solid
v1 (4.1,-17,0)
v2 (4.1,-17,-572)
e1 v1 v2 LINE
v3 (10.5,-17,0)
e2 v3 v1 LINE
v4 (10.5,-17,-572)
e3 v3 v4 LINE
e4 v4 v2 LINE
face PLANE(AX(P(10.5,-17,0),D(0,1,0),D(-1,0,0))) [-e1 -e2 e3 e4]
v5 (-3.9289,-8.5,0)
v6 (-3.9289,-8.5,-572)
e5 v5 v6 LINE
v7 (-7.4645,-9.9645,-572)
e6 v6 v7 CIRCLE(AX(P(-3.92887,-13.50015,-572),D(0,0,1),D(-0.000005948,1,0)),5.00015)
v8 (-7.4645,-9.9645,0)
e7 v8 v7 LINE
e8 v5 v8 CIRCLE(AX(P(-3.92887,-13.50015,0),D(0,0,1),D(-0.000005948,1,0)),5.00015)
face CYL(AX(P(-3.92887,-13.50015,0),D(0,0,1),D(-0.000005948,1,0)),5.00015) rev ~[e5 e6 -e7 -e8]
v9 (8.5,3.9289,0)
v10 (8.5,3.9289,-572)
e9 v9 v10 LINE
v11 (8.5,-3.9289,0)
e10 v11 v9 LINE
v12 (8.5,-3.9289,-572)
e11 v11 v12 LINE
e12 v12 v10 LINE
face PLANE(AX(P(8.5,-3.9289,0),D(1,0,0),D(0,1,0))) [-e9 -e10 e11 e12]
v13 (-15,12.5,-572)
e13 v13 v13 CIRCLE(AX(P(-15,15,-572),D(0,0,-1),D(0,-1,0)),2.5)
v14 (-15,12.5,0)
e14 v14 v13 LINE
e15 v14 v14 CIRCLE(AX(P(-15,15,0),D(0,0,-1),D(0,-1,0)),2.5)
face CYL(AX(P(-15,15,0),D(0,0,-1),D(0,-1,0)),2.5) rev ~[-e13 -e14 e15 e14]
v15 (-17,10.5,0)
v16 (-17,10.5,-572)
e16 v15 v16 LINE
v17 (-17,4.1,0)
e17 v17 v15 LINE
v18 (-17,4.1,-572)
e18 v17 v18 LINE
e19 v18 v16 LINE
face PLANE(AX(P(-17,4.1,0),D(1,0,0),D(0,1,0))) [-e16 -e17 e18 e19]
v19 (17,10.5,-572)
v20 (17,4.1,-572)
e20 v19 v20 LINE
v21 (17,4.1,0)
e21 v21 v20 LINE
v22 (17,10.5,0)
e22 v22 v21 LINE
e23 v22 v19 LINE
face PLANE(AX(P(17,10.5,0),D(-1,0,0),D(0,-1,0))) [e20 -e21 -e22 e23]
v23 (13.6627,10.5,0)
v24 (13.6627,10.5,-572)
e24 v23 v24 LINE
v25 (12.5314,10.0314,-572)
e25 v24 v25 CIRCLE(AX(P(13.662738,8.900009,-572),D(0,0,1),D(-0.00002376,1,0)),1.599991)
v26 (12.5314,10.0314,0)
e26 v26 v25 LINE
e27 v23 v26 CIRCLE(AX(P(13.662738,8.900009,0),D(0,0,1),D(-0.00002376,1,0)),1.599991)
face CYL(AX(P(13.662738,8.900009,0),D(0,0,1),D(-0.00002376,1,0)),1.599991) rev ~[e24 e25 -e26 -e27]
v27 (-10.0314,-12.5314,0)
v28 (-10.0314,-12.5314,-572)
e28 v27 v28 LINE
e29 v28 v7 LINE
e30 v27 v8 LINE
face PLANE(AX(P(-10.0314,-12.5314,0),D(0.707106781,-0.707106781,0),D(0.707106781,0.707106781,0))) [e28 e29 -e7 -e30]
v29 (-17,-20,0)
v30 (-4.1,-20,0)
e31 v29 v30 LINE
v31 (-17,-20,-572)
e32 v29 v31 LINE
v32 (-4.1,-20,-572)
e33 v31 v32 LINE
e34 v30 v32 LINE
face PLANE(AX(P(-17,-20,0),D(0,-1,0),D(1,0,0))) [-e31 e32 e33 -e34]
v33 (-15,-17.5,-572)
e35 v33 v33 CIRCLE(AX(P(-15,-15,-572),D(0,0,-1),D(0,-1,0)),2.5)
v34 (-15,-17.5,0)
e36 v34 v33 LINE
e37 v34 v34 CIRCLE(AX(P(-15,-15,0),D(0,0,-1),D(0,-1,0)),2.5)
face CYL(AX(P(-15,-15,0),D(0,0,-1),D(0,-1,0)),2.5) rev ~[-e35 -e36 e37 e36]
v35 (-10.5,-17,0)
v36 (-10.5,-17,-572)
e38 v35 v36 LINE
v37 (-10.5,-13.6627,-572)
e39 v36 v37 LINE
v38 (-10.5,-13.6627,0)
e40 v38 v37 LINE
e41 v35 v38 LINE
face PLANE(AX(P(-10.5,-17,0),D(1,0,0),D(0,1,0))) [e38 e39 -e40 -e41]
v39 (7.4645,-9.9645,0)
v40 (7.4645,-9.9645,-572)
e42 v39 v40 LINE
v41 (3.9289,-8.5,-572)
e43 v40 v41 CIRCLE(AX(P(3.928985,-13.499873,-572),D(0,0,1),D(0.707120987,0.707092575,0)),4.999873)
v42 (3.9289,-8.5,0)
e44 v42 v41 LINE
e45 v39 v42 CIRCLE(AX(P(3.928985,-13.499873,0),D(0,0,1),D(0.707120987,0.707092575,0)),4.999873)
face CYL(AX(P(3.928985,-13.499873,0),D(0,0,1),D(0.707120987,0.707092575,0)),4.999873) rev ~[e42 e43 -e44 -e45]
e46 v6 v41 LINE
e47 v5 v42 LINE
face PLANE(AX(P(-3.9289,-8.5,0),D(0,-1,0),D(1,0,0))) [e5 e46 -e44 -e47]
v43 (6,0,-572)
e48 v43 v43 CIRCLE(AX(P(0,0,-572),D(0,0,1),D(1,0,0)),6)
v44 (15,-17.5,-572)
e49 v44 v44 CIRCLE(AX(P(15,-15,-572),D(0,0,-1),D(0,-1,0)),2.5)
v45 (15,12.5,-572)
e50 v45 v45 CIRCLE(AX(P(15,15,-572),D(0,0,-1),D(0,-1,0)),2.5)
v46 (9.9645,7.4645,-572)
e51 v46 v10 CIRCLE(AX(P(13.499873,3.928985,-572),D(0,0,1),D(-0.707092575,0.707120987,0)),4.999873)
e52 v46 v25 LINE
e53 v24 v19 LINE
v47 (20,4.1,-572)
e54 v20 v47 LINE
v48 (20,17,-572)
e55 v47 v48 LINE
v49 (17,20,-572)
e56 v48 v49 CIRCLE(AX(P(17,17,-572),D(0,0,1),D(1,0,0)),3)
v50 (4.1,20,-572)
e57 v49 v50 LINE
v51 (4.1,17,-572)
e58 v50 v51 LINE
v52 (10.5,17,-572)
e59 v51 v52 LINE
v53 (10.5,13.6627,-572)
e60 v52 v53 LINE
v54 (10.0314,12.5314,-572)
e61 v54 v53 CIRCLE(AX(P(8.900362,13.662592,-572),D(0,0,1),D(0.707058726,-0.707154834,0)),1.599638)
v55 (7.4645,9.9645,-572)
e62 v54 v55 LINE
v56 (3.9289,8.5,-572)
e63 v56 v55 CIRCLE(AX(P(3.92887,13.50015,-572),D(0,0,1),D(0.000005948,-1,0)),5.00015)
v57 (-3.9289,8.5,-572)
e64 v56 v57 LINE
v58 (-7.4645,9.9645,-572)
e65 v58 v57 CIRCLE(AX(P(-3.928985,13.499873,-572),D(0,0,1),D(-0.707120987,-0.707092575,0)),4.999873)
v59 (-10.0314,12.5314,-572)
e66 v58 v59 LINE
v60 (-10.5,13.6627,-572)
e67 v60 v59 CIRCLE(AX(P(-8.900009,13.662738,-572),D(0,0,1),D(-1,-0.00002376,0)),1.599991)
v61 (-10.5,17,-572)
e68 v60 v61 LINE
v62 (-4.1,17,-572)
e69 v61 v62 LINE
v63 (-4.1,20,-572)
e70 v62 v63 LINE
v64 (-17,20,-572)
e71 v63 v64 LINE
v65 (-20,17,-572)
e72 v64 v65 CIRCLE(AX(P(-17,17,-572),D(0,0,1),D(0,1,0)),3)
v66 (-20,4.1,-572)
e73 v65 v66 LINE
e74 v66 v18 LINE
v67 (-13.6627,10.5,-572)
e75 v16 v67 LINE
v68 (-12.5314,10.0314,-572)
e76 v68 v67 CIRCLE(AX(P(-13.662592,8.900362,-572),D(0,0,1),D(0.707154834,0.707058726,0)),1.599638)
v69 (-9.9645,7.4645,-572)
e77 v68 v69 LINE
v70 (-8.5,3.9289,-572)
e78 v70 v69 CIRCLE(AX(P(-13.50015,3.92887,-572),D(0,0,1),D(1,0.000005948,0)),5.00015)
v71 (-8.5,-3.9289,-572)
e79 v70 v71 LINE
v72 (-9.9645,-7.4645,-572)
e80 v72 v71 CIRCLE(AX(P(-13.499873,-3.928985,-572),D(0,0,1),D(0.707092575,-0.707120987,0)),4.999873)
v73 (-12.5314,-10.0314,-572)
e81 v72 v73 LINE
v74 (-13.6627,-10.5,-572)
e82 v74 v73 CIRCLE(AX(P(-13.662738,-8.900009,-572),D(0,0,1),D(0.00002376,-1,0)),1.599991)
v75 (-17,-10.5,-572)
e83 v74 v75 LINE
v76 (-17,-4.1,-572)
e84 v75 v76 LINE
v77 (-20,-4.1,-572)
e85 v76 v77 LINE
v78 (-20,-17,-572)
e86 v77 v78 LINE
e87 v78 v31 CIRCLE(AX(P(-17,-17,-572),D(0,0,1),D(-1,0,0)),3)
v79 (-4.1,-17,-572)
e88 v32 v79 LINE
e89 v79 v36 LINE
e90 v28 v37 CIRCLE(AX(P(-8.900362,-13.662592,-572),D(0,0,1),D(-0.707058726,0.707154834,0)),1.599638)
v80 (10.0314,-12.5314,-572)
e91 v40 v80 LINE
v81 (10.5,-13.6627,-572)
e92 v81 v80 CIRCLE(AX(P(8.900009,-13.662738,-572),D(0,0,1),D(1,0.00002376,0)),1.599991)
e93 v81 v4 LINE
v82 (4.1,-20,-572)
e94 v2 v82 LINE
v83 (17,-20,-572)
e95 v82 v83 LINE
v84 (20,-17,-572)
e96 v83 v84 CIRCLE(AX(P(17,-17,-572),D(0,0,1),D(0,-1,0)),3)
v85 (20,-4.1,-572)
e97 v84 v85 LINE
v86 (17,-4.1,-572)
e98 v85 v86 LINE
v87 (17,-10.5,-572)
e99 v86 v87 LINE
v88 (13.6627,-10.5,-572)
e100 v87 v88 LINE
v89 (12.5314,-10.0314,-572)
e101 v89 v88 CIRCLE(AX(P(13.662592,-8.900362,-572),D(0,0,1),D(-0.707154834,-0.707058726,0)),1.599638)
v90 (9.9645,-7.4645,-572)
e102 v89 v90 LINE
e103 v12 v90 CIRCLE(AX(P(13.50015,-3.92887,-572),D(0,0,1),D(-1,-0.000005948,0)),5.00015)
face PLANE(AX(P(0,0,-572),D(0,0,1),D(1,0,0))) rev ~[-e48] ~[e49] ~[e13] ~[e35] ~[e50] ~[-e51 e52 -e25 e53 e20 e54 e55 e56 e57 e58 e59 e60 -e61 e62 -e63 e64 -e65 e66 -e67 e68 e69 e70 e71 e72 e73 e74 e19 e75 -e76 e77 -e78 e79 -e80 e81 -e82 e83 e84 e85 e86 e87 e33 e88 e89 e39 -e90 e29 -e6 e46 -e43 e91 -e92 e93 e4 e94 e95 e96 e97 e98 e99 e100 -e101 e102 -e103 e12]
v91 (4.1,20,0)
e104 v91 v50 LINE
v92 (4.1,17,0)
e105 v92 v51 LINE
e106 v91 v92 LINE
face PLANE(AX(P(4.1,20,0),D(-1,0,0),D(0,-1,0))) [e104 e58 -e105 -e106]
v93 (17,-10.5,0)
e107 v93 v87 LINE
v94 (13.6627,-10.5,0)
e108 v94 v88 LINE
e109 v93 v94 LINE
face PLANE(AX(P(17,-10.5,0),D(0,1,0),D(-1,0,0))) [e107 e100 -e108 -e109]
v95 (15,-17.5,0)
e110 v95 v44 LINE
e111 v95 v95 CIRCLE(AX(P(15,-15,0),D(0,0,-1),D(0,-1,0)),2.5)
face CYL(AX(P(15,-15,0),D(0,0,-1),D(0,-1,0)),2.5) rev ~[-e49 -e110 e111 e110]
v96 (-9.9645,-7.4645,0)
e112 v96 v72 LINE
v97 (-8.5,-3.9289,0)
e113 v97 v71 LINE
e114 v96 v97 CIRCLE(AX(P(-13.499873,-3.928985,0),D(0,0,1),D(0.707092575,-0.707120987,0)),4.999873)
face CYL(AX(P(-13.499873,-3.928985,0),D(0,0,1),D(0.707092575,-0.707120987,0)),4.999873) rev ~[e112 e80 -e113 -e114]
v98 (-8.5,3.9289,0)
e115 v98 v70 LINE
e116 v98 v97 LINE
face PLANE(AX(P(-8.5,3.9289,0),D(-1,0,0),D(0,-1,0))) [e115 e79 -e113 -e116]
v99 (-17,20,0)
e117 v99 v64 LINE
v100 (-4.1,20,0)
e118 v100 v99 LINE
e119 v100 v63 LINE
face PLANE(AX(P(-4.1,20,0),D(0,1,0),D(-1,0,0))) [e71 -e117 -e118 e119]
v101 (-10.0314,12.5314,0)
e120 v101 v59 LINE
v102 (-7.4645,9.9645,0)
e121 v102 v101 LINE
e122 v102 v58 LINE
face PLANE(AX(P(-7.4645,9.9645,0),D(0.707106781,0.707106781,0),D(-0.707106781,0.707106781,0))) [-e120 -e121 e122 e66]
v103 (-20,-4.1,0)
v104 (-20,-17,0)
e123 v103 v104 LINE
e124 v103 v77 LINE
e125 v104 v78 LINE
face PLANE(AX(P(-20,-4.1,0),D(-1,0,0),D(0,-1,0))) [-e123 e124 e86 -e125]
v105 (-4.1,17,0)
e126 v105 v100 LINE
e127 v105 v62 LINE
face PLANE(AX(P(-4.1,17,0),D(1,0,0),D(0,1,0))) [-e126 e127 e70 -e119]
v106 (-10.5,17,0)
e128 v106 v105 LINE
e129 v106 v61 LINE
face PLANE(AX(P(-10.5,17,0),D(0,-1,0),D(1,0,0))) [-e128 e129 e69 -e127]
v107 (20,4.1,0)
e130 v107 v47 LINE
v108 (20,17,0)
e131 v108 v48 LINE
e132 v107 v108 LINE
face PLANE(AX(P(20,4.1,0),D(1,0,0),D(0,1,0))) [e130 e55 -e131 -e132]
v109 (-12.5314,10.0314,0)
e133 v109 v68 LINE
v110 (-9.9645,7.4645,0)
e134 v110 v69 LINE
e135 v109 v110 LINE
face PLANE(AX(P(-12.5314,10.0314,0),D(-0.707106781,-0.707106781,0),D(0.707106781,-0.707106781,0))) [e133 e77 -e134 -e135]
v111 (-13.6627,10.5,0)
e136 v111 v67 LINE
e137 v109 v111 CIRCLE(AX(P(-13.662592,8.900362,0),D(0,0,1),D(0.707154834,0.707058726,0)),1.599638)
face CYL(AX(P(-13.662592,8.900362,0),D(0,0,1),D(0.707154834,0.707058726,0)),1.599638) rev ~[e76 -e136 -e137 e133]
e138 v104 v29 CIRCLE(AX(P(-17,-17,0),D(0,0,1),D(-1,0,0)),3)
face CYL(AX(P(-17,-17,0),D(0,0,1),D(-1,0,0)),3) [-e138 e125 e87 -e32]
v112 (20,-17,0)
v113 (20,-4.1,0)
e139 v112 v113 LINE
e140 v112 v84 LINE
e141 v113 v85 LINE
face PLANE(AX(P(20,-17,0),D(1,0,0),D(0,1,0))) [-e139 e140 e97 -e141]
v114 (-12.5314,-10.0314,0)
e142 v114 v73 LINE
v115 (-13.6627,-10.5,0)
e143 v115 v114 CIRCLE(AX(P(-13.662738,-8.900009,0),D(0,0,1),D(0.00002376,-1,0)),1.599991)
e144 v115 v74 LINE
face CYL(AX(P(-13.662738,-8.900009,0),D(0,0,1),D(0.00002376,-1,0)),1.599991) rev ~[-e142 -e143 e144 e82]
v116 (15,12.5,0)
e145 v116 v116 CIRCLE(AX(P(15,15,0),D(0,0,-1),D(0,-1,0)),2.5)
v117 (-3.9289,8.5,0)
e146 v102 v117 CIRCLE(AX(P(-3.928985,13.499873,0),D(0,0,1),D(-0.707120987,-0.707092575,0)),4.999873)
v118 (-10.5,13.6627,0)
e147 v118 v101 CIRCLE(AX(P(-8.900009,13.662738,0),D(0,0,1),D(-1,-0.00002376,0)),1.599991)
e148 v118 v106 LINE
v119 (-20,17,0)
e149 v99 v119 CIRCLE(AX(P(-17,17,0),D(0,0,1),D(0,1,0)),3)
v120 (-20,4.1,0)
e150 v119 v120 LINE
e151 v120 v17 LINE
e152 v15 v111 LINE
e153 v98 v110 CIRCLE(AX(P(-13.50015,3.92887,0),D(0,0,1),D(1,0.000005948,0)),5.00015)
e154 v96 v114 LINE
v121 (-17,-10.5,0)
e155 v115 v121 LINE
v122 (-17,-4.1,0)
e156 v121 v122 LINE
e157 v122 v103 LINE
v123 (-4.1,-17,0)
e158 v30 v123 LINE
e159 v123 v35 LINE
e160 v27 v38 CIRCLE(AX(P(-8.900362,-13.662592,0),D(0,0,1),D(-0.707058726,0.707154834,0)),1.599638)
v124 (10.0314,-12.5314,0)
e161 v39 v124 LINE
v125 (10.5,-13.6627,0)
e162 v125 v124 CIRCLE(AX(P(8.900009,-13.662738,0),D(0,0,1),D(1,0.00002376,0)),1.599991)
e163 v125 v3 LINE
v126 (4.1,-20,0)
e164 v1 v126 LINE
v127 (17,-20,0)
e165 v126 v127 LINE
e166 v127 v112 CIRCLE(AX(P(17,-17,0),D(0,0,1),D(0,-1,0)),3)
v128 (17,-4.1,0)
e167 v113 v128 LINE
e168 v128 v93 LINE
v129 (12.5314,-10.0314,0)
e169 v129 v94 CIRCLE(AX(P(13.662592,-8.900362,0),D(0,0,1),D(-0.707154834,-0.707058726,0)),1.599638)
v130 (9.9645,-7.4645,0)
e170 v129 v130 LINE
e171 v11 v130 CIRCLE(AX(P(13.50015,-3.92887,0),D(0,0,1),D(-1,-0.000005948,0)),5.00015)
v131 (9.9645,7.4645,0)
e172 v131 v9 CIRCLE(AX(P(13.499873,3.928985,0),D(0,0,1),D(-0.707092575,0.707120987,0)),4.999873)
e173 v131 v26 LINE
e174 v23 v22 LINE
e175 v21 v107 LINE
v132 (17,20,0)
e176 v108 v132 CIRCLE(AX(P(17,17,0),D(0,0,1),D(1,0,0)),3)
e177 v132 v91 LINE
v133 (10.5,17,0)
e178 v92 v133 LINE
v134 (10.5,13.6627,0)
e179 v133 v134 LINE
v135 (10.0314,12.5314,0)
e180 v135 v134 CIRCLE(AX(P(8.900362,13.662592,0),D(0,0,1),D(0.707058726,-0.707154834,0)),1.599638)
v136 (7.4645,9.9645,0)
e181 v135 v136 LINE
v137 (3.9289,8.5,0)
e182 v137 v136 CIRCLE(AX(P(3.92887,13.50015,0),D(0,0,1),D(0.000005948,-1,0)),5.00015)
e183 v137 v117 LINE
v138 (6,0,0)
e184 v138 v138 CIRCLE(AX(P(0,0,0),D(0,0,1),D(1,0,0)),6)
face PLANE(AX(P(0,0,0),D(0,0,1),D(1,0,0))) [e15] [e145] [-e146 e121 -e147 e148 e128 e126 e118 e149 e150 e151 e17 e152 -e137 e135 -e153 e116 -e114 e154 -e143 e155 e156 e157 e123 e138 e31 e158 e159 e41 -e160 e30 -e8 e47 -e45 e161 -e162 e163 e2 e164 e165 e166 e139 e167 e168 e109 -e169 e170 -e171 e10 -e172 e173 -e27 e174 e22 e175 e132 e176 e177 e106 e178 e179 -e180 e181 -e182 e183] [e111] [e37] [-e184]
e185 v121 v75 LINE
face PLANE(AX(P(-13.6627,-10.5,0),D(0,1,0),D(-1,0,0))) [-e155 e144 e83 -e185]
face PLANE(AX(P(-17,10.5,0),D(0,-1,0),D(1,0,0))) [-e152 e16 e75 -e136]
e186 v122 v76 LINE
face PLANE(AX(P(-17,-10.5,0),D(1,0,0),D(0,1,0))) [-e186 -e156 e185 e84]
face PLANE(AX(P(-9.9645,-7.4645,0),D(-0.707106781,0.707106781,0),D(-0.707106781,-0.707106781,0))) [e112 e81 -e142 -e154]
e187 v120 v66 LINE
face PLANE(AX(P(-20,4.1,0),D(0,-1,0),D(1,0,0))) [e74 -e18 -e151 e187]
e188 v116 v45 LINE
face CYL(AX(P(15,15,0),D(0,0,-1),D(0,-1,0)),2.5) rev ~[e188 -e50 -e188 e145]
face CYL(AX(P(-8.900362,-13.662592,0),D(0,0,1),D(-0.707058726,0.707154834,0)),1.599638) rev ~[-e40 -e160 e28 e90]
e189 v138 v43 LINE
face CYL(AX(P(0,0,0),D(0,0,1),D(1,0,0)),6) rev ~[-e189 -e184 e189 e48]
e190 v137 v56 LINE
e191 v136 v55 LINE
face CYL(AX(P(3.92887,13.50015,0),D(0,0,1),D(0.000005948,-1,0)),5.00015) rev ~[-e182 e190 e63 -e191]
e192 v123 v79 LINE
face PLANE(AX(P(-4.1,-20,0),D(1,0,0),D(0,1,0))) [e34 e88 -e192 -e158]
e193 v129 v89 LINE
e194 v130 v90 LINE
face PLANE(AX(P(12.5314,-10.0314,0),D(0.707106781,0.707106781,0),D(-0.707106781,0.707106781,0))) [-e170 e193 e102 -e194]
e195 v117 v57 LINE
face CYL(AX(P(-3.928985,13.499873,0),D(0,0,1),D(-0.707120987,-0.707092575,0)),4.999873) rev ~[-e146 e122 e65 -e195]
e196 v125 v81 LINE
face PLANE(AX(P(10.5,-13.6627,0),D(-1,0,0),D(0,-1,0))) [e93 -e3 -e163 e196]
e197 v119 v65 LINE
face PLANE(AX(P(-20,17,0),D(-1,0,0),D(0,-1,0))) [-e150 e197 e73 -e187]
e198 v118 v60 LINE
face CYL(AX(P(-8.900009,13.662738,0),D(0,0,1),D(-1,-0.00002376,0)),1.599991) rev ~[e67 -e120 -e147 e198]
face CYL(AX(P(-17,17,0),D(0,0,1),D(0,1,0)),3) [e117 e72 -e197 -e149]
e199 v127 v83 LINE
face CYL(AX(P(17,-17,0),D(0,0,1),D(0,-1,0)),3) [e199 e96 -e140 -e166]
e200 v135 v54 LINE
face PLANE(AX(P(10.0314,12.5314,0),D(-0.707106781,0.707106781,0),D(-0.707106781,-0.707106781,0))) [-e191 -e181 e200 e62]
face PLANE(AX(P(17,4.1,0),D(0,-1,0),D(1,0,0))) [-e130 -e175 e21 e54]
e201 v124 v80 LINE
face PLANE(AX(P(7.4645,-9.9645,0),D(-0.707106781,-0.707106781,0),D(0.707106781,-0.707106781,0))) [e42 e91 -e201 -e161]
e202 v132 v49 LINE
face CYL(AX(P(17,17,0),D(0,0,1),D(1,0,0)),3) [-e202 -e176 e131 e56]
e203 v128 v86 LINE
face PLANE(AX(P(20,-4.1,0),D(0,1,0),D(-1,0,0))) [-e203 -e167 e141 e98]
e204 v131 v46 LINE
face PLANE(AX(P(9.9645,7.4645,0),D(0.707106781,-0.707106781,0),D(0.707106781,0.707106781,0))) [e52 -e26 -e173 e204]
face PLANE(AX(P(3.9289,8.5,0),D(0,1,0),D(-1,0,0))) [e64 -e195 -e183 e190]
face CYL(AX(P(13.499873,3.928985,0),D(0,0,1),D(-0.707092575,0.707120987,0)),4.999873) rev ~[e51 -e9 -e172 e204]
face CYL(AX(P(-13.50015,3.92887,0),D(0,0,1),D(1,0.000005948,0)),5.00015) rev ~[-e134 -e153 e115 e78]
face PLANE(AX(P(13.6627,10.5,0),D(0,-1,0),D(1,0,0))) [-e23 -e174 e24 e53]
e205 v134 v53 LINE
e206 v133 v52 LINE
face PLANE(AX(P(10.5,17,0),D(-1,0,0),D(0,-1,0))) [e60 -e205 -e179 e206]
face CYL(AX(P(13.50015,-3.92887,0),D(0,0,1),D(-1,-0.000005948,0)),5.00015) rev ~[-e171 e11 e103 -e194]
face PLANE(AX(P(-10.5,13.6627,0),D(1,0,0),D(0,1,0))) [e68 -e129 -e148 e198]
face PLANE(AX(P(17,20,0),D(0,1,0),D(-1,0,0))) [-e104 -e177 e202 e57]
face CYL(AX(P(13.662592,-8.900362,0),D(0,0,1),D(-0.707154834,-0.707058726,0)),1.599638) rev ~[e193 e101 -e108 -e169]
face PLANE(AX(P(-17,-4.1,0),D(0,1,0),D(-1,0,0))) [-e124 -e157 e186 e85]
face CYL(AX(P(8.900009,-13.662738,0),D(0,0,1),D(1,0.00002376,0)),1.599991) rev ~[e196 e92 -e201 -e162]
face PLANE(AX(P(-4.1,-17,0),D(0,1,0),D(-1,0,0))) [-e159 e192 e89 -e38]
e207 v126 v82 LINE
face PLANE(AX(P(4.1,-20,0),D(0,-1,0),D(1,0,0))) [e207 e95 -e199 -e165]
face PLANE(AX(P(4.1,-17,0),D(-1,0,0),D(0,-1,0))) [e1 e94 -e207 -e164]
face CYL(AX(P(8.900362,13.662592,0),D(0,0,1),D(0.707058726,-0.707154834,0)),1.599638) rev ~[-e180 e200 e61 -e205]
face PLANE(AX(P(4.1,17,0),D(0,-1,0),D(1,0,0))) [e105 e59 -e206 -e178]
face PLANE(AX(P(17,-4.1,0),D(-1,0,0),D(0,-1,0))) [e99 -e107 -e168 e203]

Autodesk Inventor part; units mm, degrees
sketch "Skizze_1" plane through (0, 0, 0) normal (0, 0, 1) x (1, 0, 0)
  arc A0 (-20, -17) -> (-17, -20) centre (-17, -17) ccw
  line L0 (-17, -20) -> (-4.1, -20)
  line L1 (-4.1, -20) -> (-4.1, -17)
  line L2 (-4.1, -17) -> (-10.5, -17)
  line L3 (-10.5, -17) -> (-10.5, -13.6627)
  arc A1 (-10.0314, -12.5314) -> (-10.5, -13.6627) centre (-8.9002, -13.6627) ccw
  line L4 (-10.0314, -12.5314) -> (-7.4645, -9.9645)
  arc A2 (-3.9289, -8.5) -> (-7.4645, -9.9645) centre (-3.9289, -13.5) ccw
  line L5 (-3.9289, -8.5) -> (3.9289, -8.5)
  arc A3 (7.4645, -9.9645) -> (3.9289, -8.5) centre (3.9289, -13.5) ccw
  line L6 (7.4645, -9.9645) -> (10.0314, -12.5314)
  arc A4 (10.5, -13.6627) -> (10.0314, -12.5314) centre (8.9002, -13.6627) ccw
  line L7 (10.5, -13.6627) -> (10.5, -17)
  line L8 (10.5, -17) -> (4.1, -17)
  line L9 (4.1, -17) -> (4.1, -20)
  line L10 (4.1, -20) -> (17, -20)
  arc A5 (17, -20) -> (20, -17) centre (17, -17) ccw
  line L11 (20, -17) -> (20, -4.1)
  line L12 (20, -4.1) -> (17, -4.1)
  line L13 (17, -4.1) -> (17, -10.5)
  line L14 (17, -10.5) -> (13.6627, -10.5)
  arc A6 (12.5314, -10.0314) -> (13.6627, -10.5) centre (13.6627, -8.9002) ccw
  line L15 (12.5314, -10.0314) -> (9.9645, -7.4645)
  arc A7 (8.5, -3.9289) -> (9.9645, -7.4645) centre (13.5, -3.9289) ccw
  line L16 (8.5, -3.9289) -> (8.5, 3.9289)
  arc A8 (9.9645, 7.4645) -> (8.5, 3.9289) centre (13.5, 3.9289) ccw
  line L17 (9.9645, 7.4645) -> (12.5314, 10.0314)
  arc A9 (13.6627, 10.5) -> (12.5314, 10.0314) centre (13.6627, 8.9002) ccw
  line L18 (13.6627, 10.5) -> (17, 10.5)
  line L19 (17, 10.5) -> (17, 4.1)
  line L20 (17, 4.1) -> (20, 4.1)
  line L21 (20, 4.1) -> (20, 17)
  arc A10 (20, 17) -> (17, 20) centre (17, 17) ccw
  line L22 (17, 20) -> (4.1, 20)
  line L23 (4.1, 20) -> (4.1, 17)
  line L24 (4.1, 17) -> (10.5, 17)
  line L25 (10.5, 17) -> (10.5, 13.6627)
  arc A11 (10.0314, 12.5314) -> (10.5, 13.6627) centre (8.9002, 13.6627) ccw
  line L26 (10.0314, 12.5314) -> (7.4645, 9.9645)
  arc A12 (3.9289, 8.5) -> (7.4645, 9.9645) centre (3.9289, 13.5) ccw
  line L27 (3.9289, 8.5) -> (-3.9289, 8.5)
  arc A13 (-7.4645, 9.9645) -> (-3.9289, 8.5) centre (-3.9289, 13.5) ccw
  line L28 (-7.4645, 9.9645) -> (-10.0314, 12.5314)
  arc A14 (-10.5, 13.6627) -> (-10.0314, 12.5314) centre (-8.9002, 13.6627) ccw
  line L29 (-10.5, 13.6627) -> (-10.5, 17)
  line L30 (-10.5, 17) -> (-4.1, 17)
  line L31 (-4.1, 17) -> (-4.1, 20)
  line L32 (-4.1, 20) -> (-17, 20)
  arc A15 (-17, 20) -> (-20, 17) centre (-17, 17) ccw
  line L33 (-20, 17) -> (-20, 4.1)
  line L34 (-20, 4.1) -> (-17, 4.1)
  line L35 (-17, 4.1) -> (-17, 10.5)
  line L36 (-17, 10.5) -> (-13.6627, 10.5)
  arc A16 (-12.5314, 10.0314) -> (-13.6627, 10.5) centre (-13.6627, 8.9002) ccw
  line L37 (-12.5314, 10.0314) -> (-9.9645, 7.4645)
  arc A17 (-8.5, 3.9289) -> (-9.9645, 7.4645) centre (-13.5, 3.9289) ccw
  line L38 (-8.5, 3.9289) -> (-8.5, -3.9289)
  arc A18 (-9.9645, -7.4645) -> (-8.5, -3.9289) centre (-13.5, -3.9289) ccw
  line L39 (-9.9645, -7.4645) -> (-12.5314, -10.0314)
  arc A19 (-13.6627, -10.5) -> (-12.5314, -10.0314) centre (-13.6627, -8.9002) ccw
  line L40 (-13.6627, -10.5) -> (-17, -10.5)
  line L41 (-17, -10.5) -> (-17, -4.1)
  line L42 (-17, -4.1) -> (-20, -4.1)
  line L43 (-20, -4.1) -> (-20, -17)
  circle A20 centre (0, 0) radius 6
extrude "Extrusion1" add sketch "Skizze_1" against normal blind 572
sketch "Sketch2" plane through (0, 0, 0) normal (0, 0, 1) x (1, 0, 0)
  point P0 (-15, -15)
hole "Drilling 1" at (-15, -15, 0) direction (0, 0, -1) diameter 5 depth 6000
sketch "Sketch3" plane through (0, 0, 0) normal (0, 0, 1) x (1, 0, 0)
  point P0 (15, -15)
hole "Drilling 2" at (15, -15, 0) direction (0, 0, -1) diameter 5 depth 6000
sketch "Sketch4" plane through (0, 0, 0) normal (0, 0, 1) x (1, 0, 0)
  point P0 (15, 15)
hole "Drilling 3" at (15, 15, 0) direction (0, 0, -1) diameter 5 depth 6000
sketch "Sketch5" plane through (0, 0, 0) normal (0, 0, 1) x (1, 0, 0)
  point P0 (-15, 15)
hole "Drilling 4" at (-15, 15, 0) direction (0, 0, -1) diameter 5 depth 6000
ref_plane "side_4d_XY" through (-20, 0, -286) normal (-1, 0, 0) x (0, 1, 0)
ref_plane "side_4d_YZ" through (-20, 0, -286) normal (0, 1, 0) x (0, 0, -1)
ref_plane "side_4d_ZX" through (-20, 0, -286) normal (0, 0, -1) x (-1, 0, 0)
ref_plane "side_1a_XY" through (0, 20, -286) normal (0, 1, 0) x (1, 0, 0)
ref_plane "side_1a_YZ" through (0, 20, -286) normal (1, 0, 0) x (0, 0, -1)
ref_plane "side_1a_ZX" through (0, 20, -286) normal (0, 0, -1) x (0, 1, 0)
ref_plane "side_2b_XY" through (20, 0, -286) normal (1, 0, 0) x (0, -1, 0)
ref_plane "side_2b_YZ" through (20, 0, -286) normal (0, -1, 0) x (0, 0, -1)
ref_plane "side_2b_ZX" through (20, 0, -286) normal (0, 0, -1) x (1, 0, 0)
ref_plane "side_3c_XY" through (0, -20, -286) normal (0, -1, 0) x (-1, 0, 0)
ref_plane "side_3c_YZ" through (0, -20, -286) normal (-1, 0, 0) x (0, 0, -1)
ref_plane "side_3c_ZX" through (0, -20, -286) normal (0, 0, -1) x (0, -1, 0)
ref_plane "end_XY" through (0, 0, -572) normal (0, 0, -1) x (1, 0, 0)
ref_plane "end_YZ" through (0, 0, -572) normal (1, 0, 0) x (0, -1, 0)
ref_plane "end_ZX" through (0, 0, -572) normal (0, -1, 0) x (0, 0, -1)
ref_plane "start_XY" through (0, 0, 0) normal (0, 0, 1) x (1, 0, 0)
ref_plane "start_YZ" through (0, 0, 0) normal (1, 0, 0) x (0, 1, 0)
ref_plane "start_ZX" through (0, 0, 0) normal (0, 1, 0) x (0, 0, 1)
properties part number "MayTec 1.11.040040.43S_Profile 40x40, 4E, S_572_Detail_(0;0,0,0)"
